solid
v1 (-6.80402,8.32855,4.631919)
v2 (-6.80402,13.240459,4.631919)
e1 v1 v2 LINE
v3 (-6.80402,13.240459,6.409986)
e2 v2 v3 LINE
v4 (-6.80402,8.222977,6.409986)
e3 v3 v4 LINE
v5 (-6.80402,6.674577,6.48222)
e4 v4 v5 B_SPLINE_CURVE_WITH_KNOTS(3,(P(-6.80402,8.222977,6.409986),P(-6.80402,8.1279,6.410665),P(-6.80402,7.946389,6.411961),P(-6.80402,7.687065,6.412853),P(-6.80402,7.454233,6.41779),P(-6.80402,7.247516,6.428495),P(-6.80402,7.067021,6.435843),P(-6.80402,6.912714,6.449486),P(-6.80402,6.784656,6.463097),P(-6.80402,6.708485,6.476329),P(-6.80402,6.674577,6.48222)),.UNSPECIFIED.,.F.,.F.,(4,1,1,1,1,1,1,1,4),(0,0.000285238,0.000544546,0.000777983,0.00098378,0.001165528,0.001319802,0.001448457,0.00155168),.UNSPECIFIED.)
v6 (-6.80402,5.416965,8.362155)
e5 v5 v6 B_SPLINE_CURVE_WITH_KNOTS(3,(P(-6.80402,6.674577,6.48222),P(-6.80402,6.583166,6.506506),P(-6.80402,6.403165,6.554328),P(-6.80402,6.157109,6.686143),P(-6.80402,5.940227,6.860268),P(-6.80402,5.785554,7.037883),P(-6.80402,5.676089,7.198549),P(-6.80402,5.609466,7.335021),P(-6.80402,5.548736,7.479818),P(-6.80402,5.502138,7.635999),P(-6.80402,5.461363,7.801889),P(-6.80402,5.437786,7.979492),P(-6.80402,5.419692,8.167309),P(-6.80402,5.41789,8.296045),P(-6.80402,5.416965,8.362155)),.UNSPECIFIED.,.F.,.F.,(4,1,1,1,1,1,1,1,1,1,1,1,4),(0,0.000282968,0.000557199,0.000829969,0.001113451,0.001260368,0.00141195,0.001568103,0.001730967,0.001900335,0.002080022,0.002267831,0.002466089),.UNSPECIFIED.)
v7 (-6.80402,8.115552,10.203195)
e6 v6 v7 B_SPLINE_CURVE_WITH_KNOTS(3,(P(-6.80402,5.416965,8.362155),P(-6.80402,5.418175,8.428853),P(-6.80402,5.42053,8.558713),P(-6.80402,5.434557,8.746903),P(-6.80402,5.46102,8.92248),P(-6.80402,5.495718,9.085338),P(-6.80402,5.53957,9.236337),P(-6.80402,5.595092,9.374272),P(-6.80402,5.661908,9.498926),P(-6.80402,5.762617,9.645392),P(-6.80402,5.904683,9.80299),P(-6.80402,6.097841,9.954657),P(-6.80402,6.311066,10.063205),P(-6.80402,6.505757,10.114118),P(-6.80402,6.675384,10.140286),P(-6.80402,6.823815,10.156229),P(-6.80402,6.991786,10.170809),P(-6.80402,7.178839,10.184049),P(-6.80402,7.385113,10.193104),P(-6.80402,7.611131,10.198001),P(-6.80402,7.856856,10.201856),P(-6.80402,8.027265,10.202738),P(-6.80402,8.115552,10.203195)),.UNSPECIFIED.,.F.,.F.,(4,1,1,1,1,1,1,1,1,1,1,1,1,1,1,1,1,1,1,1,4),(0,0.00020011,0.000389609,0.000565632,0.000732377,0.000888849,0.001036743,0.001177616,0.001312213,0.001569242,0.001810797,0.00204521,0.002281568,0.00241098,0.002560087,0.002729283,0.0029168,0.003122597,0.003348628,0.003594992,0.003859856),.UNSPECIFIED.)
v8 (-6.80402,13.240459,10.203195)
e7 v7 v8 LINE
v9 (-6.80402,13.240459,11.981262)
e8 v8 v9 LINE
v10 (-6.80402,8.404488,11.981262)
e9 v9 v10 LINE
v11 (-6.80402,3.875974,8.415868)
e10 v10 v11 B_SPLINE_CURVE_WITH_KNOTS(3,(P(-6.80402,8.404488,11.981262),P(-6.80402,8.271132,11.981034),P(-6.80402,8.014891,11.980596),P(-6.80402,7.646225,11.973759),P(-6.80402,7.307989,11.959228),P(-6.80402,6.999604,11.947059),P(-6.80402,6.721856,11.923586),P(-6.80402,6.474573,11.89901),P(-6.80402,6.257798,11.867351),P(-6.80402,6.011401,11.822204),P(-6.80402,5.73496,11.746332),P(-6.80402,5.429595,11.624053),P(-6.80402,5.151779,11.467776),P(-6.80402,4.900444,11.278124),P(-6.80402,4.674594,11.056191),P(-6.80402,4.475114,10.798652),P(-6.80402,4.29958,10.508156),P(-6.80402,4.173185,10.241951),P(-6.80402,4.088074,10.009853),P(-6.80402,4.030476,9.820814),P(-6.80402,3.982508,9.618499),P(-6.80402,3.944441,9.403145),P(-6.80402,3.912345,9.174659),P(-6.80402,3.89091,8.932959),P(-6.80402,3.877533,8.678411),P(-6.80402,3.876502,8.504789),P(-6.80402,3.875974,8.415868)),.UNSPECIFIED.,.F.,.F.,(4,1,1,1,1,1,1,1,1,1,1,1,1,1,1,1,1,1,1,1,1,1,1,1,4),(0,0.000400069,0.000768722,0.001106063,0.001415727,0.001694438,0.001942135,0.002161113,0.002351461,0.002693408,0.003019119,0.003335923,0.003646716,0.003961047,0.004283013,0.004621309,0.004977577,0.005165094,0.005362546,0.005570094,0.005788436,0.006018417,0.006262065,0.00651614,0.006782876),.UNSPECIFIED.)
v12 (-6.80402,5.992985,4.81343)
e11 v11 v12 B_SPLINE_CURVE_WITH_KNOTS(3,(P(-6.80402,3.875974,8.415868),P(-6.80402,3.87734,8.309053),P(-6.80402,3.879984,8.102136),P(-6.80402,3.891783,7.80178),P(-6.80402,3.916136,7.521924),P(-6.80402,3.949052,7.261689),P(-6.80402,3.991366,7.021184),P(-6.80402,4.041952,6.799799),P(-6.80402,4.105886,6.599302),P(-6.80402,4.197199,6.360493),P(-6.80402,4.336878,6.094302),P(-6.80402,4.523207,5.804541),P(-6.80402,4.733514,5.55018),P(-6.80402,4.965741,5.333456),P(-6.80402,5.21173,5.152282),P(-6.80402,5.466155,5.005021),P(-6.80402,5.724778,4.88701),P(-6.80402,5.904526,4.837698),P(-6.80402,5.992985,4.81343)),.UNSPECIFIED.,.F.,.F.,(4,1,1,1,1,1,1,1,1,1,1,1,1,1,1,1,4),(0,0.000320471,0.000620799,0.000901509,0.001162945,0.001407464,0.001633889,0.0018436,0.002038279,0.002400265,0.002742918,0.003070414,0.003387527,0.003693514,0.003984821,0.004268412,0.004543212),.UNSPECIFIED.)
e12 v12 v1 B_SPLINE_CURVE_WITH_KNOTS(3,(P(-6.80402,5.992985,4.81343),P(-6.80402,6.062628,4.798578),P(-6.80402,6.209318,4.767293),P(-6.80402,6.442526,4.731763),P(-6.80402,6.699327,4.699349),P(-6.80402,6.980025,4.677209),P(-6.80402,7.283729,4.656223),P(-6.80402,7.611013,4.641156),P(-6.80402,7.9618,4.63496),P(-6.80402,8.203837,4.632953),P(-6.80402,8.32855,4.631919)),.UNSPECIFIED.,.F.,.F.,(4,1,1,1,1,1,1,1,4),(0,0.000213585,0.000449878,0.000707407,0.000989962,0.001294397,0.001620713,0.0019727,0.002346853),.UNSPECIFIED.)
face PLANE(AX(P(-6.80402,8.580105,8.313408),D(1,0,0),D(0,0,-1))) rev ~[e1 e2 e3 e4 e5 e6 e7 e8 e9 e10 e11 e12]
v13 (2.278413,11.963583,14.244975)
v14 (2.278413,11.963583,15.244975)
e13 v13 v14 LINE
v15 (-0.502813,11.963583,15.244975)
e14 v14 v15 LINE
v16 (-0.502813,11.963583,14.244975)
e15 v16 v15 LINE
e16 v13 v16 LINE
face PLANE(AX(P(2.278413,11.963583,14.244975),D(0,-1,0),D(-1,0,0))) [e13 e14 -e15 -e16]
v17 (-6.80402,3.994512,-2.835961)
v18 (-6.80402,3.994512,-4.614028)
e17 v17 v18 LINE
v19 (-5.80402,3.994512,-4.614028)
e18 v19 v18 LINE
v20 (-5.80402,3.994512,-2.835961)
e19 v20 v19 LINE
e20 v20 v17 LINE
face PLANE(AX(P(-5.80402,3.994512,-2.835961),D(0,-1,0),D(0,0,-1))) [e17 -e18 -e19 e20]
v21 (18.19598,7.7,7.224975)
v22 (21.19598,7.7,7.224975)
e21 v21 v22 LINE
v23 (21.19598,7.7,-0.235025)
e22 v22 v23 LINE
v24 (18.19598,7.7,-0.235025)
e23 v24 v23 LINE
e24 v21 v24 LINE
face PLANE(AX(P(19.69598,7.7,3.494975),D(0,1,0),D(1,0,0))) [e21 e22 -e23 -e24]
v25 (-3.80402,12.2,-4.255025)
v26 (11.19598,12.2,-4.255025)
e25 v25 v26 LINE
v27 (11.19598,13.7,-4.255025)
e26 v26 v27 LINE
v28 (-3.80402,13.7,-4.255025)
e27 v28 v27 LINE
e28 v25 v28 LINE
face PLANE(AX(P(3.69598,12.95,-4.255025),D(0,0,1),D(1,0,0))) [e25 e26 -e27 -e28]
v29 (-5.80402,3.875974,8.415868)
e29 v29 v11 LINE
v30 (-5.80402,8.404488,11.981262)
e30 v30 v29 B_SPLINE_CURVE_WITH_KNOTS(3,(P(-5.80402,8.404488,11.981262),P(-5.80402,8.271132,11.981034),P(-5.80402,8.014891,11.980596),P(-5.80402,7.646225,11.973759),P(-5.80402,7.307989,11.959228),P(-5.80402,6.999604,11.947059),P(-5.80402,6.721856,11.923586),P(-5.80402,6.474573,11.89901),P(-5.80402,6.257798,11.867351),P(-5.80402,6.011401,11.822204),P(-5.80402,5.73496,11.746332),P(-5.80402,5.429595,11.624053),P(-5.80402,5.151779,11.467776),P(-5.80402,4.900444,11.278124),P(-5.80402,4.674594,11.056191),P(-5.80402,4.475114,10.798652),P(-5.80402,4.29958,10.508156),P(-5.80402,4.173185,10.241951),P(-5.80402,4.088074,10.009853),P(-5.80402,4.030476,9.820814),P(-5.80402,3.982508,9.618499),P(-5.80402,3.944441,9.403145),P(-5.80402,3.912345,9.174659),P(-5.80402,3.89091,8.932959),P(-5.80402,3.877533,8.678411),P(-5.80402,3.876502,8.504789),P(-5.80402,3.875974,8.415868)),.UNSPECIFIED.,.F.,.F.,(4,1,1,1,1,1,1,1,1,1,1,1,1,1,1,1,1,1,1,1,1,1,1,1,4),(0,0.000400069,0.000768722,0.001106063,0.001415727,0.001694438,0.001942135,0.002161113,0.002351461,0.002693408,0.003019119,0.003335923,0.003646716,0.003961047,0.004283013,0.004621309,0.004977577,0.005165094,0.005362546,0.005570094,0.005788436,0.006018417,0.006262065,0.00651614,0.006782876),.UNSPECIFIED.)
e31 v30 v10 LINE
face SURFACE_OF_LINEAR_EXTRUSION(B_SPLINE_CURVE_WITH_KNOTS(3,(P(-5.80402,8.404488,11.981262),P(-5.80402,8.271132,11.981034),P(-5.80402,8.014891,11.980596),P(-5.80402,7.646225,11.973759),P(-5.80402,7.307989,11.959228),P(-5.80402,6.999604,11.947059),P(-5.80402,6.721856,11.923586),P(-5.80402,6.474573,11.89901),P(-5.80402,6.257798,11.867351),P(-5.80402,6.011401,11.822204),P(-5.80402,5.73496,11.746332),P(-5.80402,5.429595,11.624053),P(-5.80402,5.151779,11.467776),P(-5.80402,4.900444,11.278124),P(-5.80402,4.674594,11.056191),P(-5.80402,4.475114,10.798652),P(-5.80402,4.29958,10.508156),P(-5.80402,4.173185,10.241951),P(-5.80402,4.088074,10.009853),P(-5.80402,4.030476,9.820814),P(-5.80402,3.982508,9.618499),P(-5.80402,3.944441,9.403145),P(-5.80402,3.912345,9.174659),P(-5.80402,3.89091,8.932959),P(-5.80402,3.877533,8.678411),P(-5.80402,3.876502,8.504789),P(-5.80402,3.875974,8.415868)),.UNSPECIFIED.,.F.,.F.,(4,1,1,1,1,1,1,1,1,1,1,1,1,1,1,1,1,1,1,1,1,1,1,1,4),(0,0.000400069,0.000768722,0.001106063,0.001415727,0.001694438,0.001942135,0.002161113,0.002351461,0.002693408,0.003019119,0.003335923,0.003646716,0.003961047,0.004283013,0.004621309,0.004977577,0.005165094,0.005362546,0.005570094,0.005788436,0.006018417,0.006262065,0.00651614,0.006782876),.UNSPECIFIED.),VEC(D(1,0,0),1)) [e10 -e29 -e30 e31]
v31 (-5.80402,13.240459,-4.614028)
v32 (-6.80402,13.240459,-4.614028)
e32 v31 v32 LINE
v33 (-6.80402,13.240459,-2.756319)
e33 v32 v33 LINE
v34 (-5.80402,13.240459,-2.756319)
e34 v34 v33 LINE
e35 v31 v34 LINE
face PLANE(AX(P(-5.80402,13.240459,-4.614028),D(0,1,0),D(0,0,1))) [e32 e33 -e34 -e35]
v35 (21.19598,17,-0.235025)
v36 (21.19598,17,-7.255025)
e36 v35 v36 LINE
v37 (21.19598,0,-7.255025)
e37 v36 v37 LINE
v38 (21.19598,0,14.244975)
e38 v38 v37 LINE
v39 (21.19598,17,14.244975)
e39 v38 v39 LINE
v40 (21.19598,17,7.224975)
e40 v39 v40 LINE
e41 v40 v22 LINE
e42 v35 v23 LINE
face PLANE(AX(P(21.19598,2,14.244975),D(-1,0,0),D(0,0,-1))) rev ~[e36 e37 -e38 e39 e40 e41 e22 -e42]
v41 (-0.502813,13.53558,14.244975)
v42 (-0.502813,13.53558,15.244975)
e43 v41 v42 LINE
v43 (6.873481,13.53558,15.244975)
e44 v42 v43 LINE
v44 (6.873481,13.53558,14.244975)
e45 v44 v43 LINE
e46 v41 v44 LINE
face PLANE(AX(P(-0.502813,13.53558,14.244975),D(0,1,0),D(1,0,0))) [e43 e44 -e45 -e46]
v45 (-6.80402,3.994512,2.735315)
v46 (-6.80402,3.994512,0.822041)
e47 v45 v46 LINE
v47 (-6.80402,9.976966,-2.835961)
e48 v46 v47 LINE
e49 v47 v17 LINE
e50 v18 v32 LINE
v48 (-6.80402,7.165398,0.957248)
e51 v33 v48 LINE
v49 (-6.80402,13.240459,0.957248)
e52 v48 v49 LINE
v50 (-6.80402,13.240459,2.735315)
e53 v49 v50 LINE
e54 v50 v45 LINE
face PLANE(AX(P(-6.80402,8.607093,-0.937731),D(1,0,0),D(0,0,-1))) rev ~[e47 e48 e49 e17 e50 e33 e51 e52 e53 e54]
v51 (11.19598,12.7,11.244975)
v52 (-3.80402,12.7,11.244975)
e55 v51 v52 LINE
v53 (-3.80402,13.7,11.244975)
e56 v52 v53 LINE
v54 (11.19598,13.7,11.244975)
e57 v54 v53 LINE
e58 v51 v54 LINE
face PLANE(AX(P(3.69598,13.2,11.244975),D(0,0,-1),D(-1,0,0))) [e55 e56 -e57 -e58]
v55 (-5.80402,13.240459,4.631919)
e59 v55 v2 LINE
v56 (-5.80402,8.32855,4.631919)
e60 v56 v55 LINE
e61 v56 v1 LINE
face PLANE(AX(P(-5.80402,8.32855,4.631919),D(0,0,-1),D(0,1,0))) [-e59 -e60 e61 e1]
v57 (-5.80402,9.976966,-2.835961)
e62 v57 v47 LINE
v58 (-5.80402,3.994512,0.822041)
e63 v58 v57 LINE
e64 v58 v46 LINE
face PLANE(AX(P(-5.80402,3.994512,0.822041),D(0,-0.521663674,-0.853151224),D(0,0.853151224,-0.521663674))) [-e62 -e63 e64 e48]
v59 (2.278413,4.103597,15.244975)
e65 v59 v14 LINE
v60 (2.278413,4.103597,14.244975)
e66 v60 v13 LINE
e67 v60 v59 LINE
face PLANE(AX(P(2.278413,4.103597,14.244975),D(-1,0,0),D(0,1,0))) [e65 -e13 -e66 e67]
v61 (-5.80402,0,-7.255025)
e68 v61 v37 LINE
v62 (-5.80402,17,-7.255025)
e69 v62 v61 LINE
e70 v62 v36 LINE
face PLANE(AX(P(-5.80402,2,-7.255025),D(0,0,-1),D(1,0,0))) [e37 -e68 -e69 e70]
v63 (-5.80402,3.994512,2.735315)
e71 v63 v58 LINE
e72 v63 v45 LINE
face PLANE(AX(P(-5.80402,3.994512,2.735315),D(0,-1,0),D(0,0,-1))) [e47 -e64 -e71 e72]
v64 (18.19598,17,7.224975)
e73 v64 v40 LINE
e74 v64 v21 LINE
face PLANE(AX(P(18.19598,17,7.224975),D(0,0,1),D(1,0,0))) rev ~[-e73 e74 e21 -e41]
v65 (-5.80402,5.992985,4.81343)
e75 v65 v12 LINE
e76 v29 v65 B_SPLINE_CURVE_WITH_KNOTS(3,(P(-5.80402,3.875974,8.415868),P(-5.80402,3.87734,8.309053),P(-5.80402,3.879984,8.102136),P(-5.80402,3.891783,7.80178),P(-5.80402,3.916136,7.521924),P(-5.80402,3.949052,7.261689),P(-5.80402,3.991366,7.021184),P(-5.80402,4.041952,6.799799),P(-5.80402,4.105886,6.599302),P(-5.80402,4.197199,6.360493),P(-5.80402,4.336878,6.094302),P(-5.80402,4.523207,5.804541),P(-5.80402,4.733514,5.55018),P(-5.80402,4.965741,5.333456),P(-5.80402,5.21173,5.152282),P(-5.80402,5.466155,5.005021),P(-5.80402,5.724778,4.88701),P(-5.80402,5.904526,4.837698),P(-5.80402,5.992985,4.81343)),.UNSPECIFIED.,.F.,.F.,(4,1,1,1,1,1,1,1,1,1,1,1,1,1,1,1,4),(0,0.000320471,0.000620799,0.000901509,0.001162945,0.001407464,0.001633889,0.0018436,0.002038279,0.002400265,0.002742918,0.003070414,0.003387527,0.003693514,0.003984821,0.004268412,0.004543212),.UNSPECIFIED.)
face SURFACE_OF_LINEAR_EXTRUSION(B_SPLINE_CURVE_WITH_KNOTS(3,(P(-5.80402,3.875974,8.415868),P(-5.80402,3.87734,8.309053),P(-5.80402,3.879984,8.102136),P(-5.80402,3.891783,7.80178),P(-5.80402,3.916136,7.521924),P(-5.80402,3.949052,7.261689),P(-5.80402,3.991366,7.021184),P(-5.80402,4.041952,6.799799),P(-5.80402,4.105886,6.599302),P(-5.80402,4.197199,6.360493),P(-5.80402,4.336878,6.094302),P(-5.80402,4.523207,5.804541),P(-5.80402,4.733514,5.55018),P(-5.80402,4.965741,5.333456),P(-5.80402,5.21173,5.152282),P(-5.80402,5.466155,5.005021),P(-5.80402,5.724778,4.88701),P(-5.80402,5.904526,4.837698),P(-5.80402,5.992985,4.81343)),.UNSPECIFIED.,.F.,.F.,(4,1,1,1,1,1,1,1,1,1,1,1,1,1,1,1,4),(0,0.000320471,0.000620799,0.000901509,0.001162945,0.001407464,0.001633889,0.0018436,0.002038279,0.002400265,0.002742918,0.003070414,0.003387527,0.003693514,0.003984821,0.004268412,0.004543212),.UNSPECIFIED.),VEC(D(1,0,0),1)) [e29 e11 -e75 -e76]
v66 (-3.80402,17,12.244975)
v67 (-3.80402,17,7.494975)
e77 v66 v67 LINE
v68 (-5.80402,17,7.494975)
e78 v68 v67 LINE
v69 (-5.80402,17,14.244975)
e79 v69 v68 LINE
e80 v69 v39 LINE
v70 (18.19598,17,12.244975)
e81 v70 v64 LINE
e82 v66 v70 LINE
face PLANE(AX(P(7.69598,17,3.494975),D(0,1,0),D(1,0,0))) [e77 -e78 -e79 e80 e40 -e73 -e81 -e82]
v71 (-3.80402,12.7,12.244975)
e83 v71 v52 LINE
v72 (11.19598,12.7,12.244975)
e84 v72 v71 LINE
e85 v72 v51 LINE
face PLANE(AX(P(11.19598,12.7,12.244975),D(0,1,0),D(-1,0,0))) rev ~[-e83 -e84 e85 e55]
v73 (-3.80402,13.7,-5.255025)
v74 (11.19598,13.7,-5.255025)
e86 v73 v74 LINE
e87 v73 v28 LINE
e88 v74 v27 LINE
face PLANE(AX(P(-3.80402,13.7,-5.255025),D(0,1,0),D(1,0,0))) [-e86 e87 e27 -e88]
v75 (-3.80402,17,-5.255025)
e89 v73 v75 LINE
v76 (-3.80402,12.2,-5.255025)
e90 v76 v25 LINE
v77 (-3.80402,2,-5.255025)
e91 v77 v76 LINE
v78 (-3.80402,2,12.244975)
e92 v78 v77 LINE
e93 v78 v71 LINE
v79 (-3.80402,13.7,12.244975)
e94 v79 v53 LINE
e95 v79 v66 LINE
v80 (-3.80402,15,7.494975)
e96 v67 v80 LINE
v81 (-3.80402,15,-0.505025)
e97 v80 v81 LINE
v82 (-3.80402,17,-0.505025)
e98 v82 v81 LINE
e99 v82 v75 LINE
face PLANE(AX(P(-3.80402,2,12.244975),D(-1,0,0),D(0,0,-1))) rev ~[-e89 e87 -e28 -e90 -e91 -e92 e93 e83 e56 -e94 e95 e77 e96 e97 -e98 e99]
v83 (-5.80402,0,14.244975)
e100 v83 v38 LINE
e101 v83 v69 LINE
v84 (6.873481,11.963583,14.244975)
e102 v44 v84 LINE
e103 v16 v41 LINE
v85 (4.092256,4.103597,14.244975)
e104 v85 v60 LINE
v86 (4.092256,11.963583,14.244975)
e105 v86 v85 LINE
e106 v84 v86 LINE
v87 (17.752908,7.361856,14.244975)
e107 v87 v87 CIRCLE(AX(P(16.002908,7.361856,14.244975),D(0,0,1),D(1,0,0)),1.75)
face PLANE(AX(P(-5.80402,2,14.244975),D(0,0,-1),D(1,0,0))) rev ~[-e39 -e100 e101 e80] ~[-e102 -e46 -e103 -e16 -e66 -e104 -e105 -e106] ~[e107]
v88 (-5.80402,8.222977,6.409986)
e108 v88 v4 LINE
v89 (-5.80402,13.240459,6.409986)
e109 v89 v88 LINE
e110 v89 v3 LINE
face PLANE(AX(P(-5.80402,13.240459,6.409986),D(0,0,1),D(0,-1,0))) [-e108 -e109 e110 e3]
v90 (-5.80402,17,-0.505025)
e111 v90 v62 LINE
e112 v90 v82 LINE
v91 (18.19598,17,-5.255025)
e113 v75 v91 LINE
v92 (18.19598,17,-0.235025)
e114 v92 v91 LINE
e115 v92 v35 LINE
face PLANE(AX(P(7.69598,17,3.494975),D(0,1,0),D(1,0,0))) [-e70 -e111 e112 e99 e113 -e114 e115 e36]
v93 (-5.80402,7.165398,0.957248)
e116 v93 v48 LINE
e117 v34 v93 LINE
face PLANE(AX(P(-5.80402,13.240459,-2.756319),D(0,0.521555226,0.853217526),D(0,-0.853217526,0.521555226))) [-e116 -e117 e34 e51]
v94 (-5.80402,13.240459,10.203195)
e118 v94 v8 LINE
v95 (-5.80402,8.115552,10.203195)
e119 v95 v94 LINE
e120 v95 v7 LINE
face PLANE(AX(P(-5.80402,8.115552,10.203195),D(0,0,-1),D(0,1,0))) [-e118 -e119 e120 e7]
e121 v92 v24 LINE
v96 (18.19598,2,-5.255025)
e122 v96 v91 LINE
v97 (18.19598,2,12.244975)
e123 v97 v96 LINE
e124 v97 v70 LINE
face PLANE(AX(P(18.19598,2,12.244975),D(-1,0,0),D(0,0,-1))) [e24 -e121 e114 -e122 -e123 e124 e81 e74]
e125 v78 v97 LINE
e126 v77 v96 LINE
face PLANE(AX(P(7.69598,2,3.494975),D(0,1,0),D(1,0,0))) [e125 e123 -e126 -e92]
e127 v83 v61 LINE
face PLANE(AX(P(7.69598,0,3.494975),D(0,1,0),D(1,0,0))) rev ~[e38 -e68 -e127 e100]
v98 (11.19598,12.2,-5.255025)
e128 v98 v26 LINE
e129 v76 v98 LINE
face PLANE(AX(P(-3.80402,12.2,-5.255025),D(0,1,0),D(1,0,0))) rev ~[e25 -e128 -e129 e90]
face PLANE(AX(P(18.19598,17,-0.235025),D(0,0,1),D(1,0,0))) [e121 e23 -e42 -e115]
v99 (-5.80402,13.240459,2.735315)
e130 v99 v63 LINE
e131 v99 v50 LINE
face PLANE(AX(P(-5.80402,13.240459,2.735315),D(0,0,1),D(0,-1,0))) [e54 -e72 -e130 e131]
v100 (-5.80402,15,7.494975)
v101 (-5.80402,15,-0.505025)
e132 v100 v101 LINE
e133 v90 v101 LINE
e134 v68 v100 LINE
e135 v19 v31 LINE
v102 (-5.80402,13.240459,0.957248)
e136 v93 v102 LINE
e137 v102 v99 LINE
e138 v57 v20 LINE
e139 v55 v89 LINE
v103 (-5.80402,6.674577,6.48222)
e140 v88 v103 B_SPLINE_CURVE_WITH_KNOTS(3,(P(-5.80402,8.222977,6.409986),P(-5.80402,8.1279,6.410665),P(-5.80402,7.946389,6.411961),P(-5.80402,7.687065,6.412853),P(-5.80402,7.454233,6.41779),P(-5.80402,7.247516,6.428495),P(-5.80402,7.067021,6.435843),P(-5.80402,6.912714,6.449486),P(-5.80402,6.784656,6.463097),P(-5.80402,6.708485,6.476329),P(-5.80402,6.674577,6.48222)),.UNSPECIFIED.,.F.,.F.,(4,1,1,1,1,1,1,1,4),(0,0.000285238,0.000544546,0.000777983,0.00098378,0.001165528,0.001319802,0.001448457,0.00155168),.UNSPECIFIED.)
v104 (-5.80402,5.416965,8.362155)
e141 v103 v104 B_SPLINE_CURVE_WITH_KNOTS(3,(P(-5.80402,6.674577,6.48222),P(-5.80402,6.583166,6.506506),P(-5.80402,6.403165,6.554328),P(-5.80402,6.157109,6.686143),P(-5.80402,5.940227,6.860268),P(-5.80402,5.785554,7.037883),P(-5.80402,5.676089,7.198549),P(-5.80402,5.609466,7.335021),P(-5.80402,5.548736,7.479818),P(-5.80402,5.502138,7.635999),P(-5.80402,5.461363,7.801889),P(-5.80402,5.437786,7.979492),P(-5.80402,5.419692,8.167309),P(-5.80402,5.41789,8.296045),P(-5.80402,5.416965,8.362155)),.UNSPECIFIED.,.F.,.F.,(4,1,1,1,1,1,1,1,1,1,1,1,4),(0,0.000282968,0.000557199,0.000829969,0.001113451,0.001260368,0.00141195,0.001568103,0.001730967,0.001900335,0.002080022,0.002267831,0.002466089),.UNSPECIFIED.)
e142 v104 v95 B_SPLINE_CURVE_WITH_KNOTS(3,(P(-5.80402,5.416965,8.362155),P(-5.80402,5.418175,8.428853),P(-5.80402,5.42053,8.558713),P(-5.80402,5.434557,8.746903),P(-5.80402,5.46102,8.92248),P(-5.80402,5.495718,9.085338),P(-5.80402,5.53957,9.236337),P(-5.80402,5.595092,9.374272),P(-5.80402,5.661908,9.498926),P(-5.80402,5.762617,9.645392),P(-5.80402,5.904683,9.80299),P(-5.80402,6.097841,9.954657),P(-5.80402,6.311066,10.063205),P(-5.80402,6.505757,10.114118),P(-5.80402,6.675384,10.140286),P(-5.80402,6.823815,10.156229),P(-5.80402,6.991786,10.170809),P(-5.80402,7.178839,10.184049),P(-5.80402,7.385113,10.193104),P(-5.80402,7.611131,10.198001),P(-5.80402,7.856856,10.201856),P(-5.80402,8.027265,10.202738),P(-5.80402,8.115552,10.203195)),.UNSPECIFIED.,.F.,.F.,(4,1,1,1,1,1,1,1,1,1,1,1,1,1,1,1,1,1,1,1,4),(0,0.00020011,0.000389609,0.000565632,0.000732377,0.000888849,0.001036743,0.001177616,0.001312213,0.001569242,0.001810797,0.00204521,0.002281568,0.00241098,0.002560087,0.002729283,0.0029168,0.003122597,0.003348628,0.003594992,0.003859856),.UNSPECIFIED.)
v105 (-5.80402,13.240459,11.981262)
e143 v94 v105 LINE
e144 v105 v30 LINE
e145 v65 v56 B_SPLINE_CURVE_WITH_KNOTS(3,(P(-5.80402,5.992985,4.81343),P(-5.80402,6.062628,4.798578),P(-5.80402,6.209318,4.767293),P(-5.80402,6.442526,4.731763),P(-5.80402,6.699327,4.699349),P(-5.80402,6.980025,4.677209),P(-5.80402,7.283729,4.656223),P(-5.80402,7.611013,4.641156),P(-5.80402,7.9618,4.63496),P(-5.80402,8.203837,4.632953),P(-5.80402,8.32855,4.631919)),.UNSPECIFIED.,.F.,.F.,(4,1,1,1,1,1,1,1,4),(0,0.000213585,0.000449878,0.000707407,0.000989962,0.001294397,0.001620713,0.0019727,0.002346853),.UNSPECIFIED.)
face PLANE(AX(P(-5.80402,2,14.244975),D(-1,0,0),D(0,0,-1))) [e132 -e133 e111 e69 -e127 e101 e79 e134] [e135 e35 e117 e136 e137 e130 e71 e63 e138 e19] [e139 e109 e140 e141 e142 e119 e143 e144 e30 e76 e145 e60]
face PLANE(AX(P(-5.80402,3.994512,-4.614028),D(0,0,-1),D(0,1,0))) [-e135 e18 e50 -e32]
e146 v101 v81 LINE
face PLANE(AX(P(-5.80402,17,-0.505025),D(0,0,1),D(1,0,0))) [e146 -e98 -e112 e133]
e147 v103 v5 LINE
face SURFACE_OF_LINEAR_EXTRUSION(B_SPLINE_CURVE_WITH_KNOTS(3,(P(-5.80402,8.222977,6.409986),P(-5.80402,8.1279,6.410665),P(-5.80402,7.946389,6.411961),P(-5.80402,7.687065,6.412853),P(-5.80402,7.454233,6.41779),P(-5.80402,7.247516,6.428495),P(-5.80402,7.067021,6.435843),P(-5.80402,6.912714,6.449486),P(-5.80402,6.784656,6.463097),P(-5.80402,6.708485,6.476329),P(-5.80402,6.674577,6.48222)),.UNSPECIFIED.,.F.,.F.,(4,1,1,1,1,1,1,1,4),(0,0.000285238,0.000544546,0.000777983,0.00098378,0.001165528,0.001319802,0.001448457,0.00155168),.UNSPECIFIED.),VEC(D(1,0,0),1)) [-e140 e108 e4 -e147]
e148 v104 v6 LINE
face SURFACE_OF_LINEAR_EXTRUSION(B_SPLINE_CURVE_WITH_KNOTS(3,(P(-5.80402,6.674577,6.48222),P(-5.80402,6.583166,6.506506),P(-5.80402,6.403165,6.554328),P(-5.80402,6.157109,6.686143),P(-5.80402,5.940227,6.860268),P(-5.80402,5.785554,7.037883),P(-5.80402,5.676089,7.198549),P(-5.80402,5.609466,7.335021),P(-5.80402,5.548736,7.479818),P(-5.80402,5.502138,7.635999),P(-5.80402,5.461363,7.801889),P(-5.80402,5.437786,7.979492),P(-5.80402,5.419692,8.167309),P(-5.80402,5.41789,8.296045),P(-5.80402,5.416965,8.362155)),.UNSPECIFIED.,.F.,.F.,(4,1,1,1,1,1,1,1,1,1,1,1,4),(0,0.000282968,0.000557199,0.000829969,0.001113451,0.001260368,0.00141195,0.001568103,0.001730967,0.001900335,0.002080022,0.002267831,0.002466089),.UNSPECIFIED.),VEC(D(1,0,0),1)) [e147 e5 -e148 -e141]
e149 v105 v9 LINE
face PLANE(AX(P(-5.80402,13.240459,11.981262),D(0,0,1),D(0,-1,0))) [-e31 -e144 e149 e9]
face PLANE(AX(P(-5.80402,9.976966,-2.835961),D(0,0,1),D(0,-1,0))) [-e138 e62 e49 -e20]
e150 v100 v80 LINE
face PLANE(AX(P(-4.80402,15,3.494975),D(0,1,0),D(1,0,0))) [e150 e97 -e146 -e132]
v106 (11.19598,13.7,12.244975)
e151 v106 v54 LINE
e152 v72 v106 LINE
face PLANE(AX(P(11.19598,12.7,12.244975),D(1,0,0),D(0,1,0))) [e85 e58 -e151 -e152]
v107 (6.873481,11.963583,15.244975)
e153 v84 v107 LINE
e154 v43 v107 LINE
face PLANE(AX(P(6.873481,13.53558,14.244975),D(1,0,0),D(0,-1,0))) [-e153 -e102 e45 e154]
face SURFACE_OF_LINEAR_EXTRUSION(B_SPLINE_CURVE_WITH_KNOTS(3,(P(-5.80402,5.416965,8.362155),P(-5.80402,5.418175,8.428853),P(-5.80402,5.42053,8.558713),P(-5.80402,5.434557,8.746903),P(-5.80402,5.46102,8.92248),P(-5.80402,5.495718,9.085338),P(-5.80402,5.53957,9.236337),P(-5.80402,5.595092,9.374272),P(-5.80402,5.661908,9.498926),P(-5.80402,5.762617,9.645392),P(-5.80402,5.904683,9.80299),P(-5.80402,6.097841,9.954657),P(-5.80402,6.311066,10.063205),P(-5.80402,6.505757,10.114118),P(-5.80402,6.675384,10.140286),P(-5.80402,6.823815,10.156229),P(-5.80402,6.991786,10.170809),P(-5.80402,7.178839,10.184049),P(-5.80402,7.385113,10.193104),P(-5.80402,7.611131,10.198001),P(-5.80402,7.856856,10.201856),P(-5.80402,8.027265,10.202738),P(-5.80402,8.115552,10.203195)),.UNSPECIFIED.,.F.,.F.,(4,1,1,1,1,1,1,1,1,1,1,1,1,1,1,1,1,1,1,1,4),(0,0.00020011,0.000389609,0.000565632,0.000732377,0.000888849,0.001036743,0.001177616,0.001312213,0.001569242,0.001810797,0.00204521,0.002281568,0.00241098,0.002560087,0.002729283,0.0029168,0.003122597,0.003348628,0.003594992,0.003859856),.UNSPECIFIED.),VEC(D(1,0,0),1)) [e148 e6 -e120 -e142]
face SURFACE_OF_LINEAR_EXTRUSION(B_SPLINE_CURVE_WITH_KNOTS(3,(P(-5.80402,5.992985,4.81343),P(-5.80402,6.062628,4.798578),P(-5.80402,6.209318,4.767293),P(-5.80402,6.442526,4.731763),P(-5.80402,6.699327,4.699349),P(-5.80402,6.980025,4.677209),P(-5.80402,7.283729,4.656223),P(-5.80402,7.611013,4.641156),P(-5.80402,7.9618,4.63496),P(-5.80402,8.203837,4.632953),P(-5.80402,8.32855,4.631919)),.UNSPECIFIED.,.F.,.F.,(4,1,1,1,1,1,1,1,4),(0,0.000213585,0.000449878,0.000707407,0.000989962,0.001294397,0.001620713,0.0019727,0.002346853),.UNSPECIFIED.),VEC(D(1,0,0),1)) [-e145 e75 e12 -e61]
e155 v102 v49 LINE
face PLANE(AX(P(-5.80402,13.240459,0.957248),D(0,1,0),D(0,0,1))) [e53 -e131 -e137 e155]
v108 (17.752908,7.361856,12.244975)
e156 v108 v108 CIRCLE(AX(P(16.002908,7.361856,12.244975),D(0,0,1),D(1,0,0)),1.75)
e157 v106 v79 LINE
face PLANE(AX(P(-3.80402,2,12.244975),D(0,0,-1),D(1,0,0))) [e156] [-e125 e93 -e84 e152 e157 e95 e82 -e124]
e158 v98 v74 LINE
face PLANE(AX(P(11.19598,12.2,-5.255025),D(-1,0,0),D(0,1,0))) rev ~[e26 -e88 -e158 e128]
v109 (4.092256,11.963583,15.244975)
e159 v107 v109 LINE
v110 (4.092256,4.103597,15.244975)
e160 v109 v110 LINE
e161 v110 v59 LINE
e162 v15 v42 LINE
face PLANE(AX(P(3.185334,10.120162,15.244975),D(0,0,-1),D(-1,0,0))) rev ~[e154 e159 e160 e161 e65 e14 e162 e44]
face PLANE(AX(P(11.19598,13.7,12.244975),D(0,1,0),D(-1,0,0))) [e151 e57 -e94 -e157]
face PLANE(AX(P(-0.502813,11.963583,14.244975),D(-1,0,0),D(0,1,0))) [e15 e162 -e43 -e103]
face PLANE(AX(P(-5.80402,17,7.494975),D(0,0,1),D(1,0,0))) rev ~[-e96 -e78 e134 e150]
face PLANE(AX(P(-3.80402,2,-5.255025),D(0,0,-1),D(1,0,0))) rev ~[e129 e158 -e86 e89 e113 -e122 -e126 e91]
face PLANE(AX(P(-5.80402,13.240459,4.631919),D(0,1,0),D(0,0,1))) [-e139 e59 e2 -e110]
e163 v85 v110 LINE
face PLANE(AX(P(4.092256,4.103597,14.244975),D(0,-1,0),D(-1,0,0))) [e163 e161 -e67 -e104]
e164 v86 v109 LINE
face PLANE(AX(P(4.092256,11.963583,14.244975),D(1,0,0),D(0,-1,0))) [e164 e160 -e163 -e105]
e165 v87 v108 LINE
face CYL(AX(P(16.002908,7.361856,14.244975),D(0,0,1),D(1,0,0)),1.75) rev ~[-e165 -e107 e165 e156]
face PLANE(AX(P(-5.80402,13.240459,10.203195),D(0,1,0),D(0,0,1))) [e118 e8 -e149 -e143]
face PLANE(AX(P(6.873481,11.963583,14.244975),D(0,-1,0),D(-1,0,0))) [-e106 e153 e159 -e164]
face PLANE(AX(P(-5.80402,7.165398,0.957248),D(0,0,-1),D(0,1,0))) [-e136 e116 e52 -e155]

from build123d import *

# Parameters (mm, degrees)
SKETCH1_W           = 27
SKETCH1_H           = 21.5
BOSS_EXTRUDE1_DEPTH = 2
SKETCH2_W           = 27
SKETCH2_H           = 21.5
SKETCH2_W_2         = 22
SKETCH2_H_2         = 17.5
BOSS_EXTRUDE2_DEPTH = 15
SKETCH3_W           = 15
SKETCH3_H           = 1.5
BOSS_EXTRUDE3_DEPTH = 1
SKETCH4_W           = 15
SKETCH4_H           = 1
BOSS_EXTRUDE4_DEPTH = 1
SKETCH7_R           = 1.75
CUT_EXTRUDE2_DEPTH  = 2
SKETCH8_W           = 3
SKETCH8_H           = 7.46
CUT_EXTRUDE3_DEPTH  = 9.3
BOSS_EXTRUDE5_DEPTH = 1
BOSS_EXTRUDE6_DEPTH = 1
SKETCH11_W          = 2
SKETCH11_H          = 8
CUT_EXTRUDE4_DEPTH  = 2


with BuildPart() as part:
    # Sketch1 → Boss-Extrude1 (new body)
    with BuildSketch(Plane(origin=(0, 0, 0), x_dir=(1, 0, 0), z_dir=(0, 1, 0))):
        with Locations((7.695979899, -3.494974874)):
            Rectangle(SKETCH1_W, SKETCH1_H)
    extrude(amount=BOSS_EXTRUDE1_DEPTH)

    # Sketch2 → Boss-Extrude2 (add)
    with BuildSketch(Plane(origin=(0, 2, 0), x_dir=(1, 0, 0), z_dir=(0, 1, 0))):
        with Locations((7.695979899, -3.494974874)):
            Rectangle(SKETCH2_W, SKETCH2_H)
        with Locations((7.195979899, -3.494974874)):
            Rectangle(SKETCH2_W_2, SKETCH2_H_2, mode=Mode.SUBTRACT)
    extrude(amount=BOSS_EXTRUDE2_DEPTH)

    # Sketch3 → Boss-Extrude3 (add)
    with BuildSketch(Plane.XY.offset(-5.255025126)):
        with Locations((3.695979899, 12.95)):
            Rectangle(SKETCH3_W, SKETCH3_H)
    extrude(amount=BOSS_EXTRUDE3_DEPTH)

    # Sketch4 → Boss-Extrude4 (add)
    with BuildSketch(Plane(origin=(0, 0, 12.244974874), x_dir=(-1, 0, 0), z_dir=(0, 0, -1))):
        with Locations((-3.695979899, 13.2)):
            Rectangle(SKETCH4_W, SKETCH4_H)
    extrude(amount=BOSS_EXTRUDE4_DEPTH)

    # Sketch7 → Cut-Extrude2 (cut)
    with BuildSketch(Plane.XY.offset(14.244974874)):
        with Locations((16.00290807, 7.361856015)):
            Circle(SKETCH7_R)
    extrude(amount=-CUT_EXTRUDE2_DEPTH, mode=Mode.SUBTRACT)

    # Sketch8 → Cut-Extrude3 (cut)
    with BuildSketch(Plane(origin=(0, 17, 0), x_dir=(1, 0, 0), z_dir=(0, 1, 0))):
        with Locations((19.695979899, -3.494974874)):
            Rectangle(SKETCH8_W, SKETCH8_H)
    extrude(amount=-CUT_EXTRUDE3_DEPTH, mode=Mode.SUBTRACT)

    # Sketch9 → Boss-Extrude5 (add)
    with BuildSketch(Plane.ZY.offset(5.804020101)):
        Polygon((-4.61402787, 3.994511949), (-4.61402787, 13.240459214), (-2.756318514, 13.240459214), (0.957248046, 7.16539771), (0.957248046, 13.240459214), (2.735314828, 13.240459214), (2.735314828, 3.994511949), (0.822040884, 3.994511949), (-2.835961089, 9.976965808), (-2.835961089, 3.994511949), align=None)
        with BuildLine():
            Line((4.631919395, 13.240459214), (6.409986177, 13.240459214))
            Line((6.409986177, 13.240459214), (6.409986177, 8.222977014))
            add(Edge.make_bspline(
                [(6.409986177, 8.222977014), (6.410664977, 8.127899938), (6.411960871, 7.946388772), (6.412852908, 7.687065219), (6.417789545, 7.454232779), (6.428495129, 7.247516275), (6.435842667, 7.067021131), (6.449486246, 6.912714219), (6.46309676, 6.784655632), (6.476329448, 6.708485325), (6.48222014, 6.674577192)],
                knots=[0, 0, 0, 0, 0.000285238, 0.000544546, 0.000777983, 0.00098378, 0.001165528, 0.001319802, 0.001448457, 0.00155168, 0.00155168, 0.00155168, 0.00155168], degree=3))
            add(Edge.make_bspline(
                [(6.48222014, 6.674577192), (6.506506, 6.583165819), (6.554327924, 6.403165284), (6.686142733, 6.157109332), (6.860268235, 5.940226506), (7.037882666, 5.785554138), (7.198548601, 5.676088514), (7.335021148, 5.609466156), (7.47981763, 5.548735594), (7.63599912, 5.502137547), (7.801889384, 5.46136258), (7.979492203, 5.437786208), (8.167308711, 5.419691929), (8.296044968, 5.417890479), (8.362155331, 5.416965374)],
                knots=[0, 0, 0, 0, 0.000282968, 0.000557199, 0.000829969, 0.001113451, 0.001260368, 0.00141195, 0.001568103, 0.001730967, 0.001900335, 0.002080022, 0.002267831, 0.002466089, 0.002466089, 0.002466089, 0.002466089], degree=3))
            add(Edge.make_bspline(
                [(8.362155331, 5.416965374), (8.42885346, 5.41817507), (8.558713354, 5.420530322), (8.74690251, 5.434556672), (8.922479775, 5.46101956), (9.085337742, 5.495717516), (9.23633657, 5.539569917), (9.374271612, 5.595092211), (9.498925505, 5.661908259), (9.645391949, 5.762616554), (9.802989652, 5.904683185), (9.954657319, 6.097840917), (10.063204683, 6.311066042), (10.114117997, 6.505756529), (10.140285731, 6.675384373), (10.156228521, 6.823814626), (10.170809009, 6.99178617), (10.184049207, 7.178838934), (10.193103805, 7.385113322), (10.198001278, 7.611131016), (10.201855616, 7.856855971), (10.202738101, 8.027264527), (10.203195312, 8.115552146)],
                knots=[0, 0, 0, 0, 0.00020011, 0.000389609, 0.000565632, 0.000732377, 0.000888849, 0.001036743, 0.001177616, 0.001312213, 0.001569242, 0.001810797, 0.00204521, 0.002281568, 0.00241098, 0.002560087, 0.002729283, 0.0029168, 0.003122597, 0.003348628, 0.003594992, 0.003859856, 0.003859856, 0.003859856, 0.003859856], degree=3))
            Line((10.203195312, 8.115552146), (10.203195312, 13.240459214))
            Line((10.203195312, 13.240459214), (11.981262093, 13.240459214))
            Line((11.981262093, 13.240459214), (11.981262093, 8.404487998))
            add(Edge.make_bspline(
                [(11.981262093, 8.404487998), (11.981034195, 8.271131655), (11.980596294, 8.014891106), (11.973759084, 7.646224887), (11.959227844, 7.307989087), (11.947059184, 6.999603918), (11.923586339, 6.721856103), (11.89901035, 6.47457295), (11.867350881, 6.257797674), (11.822204183, 6.011401071), (11.746332221, 5.734959937), (11.624052705, 5.42959525), (11.467775809, 5.151778752), (11.278124263, 4.900444487), (11.056190615, 4.674593522), (10.798651876, 4.475113752), (10.508156306, 4.299580065), (10.241950666, 4.173184842), (10.009853453, 4.08807444), (9.820814155, 4.030475534), (9.61849876, 3.982507696), (9.403144549, 3.94444095), (9.174658985, 3.912345052), (8.932959111, 3.890910251), (8.678410596, 3.877533423), (8.50478883, 3.876502272), (8.415867765, 3.875974163)],
                knots=[0, 0, 0, 0, 0.000400069, 0.000768722, 0.001106063, 0.001415727, 0.001694438, 0.001942135, 0.002161113, 0.002351461, 0.002693408, 0.003019119, 0.003335923, 0.003646716, 0.003961047, 0.004283013, 0.004621309, 0.004977577, 0.005165094, 0.005362546, 0.005570094, 0.005788436, 0.006018417, 0.006262065, 0.00651614, 0.006782876, 0.006782876, 0.006782876, 0.006782876], degree=3))
            add(Edge.make_bspline(
                [(8.415867765, 3.875974163), (8.309052797, 3.877339536), (8.10213628, 3.879984467), (7.801779753, 3.891783276), (7.521923904, 3.916136469), (7.261689478, 3.94905209), (7.02118392, 3.991366197), (6.799798809, 4.041952447), (6.59930158, 4.105886329), (6.360493291, 4.19719937), (6.094301616, 4.336877712), (5.804540716, 4.523207483), (5.550180475, 4.733513713), (5.333455831, 4.965741446), (5.152282464, 5.211729672), (5.005020527, 5.466155478), (4.887009657, 5.724778163), (4.837698017, 5.904525991), (4.813430379, 5.992984925)],
                knots=[0, 0, 0, 0, 0.000320471, 0.000620799, 0.000901509, 0.001162945, 0.001407464, 0.001633889, 0.0018436, 0.002038279, 0.002400265, 0.002742918, 0.003070414, 0.003387527, 0.003693514, 0.003984821, 0.004268412, 0.004543212, 0.004543212, 0.004543212, 0.004543212], degree=3))
            add(Edge.make_bspline(
                [(4.813430379, 5.992984925), (4.79857773, 6.062627668), (4.767293301, 6.209317553), (4.731762874, 6.442525714), (4.699348655, 6.699326958), (4.677209321, 6.980025037), (4.65622326, 7.283729346), (4.64115601, 7.611012524), (4.634960344, 7.961800253), (4.632953465, 8.203837094), (4.631919395, 8.328549729)],
                knots=[0, 0, 0, 0, 0.000213585, 0.000449878, 0.000707407, 0.000989962, 0.001294397, 0.001620713, 0.0019727, 0.002346853, 0.002346853, 0.002346853, 0.002346853], degree=3))
            Line((4.631919395, 8.328549729), (4.631919395, 13.240459214))
        make_face()
    extrude(amount=BOSS_EXTRUDE5_DEPTH)

    # Sketch10 → Boss-Extrude6 (add)
    with BuildSketch(Plane.XY.offset(14.244974874)):
        Polygon((2.278412827, 4.103597224), (2.278412827, 11.963582575), (-0.502812759, 11.963582575), (-0.502812759, 13.535579645), (6.873481186, 13.535579645), (6.873481186, 11.963582575), (4.0922556, 11.963582575), (4.0922556, 4.103597224), align=None)
    extrude(amount=BOSS_EXTRUDE6_DEPTH)

    # Sketch11 → Cut-Extrude4 (cut)
    with BuildSketch(Plane(origin=(0, 17, 0), x_dir=(1, 0, 0), z_dir=(0, 1, 0))):
        with Locations((-4.804020101, -3.494974874)):
            Rectangle(SKETCH11_W, SKETCH11_H)
    extrude(amount=-CUT_EXTRUDE4_DEPTH, mode=Mode.SUBTRACT)


solid = part.part
